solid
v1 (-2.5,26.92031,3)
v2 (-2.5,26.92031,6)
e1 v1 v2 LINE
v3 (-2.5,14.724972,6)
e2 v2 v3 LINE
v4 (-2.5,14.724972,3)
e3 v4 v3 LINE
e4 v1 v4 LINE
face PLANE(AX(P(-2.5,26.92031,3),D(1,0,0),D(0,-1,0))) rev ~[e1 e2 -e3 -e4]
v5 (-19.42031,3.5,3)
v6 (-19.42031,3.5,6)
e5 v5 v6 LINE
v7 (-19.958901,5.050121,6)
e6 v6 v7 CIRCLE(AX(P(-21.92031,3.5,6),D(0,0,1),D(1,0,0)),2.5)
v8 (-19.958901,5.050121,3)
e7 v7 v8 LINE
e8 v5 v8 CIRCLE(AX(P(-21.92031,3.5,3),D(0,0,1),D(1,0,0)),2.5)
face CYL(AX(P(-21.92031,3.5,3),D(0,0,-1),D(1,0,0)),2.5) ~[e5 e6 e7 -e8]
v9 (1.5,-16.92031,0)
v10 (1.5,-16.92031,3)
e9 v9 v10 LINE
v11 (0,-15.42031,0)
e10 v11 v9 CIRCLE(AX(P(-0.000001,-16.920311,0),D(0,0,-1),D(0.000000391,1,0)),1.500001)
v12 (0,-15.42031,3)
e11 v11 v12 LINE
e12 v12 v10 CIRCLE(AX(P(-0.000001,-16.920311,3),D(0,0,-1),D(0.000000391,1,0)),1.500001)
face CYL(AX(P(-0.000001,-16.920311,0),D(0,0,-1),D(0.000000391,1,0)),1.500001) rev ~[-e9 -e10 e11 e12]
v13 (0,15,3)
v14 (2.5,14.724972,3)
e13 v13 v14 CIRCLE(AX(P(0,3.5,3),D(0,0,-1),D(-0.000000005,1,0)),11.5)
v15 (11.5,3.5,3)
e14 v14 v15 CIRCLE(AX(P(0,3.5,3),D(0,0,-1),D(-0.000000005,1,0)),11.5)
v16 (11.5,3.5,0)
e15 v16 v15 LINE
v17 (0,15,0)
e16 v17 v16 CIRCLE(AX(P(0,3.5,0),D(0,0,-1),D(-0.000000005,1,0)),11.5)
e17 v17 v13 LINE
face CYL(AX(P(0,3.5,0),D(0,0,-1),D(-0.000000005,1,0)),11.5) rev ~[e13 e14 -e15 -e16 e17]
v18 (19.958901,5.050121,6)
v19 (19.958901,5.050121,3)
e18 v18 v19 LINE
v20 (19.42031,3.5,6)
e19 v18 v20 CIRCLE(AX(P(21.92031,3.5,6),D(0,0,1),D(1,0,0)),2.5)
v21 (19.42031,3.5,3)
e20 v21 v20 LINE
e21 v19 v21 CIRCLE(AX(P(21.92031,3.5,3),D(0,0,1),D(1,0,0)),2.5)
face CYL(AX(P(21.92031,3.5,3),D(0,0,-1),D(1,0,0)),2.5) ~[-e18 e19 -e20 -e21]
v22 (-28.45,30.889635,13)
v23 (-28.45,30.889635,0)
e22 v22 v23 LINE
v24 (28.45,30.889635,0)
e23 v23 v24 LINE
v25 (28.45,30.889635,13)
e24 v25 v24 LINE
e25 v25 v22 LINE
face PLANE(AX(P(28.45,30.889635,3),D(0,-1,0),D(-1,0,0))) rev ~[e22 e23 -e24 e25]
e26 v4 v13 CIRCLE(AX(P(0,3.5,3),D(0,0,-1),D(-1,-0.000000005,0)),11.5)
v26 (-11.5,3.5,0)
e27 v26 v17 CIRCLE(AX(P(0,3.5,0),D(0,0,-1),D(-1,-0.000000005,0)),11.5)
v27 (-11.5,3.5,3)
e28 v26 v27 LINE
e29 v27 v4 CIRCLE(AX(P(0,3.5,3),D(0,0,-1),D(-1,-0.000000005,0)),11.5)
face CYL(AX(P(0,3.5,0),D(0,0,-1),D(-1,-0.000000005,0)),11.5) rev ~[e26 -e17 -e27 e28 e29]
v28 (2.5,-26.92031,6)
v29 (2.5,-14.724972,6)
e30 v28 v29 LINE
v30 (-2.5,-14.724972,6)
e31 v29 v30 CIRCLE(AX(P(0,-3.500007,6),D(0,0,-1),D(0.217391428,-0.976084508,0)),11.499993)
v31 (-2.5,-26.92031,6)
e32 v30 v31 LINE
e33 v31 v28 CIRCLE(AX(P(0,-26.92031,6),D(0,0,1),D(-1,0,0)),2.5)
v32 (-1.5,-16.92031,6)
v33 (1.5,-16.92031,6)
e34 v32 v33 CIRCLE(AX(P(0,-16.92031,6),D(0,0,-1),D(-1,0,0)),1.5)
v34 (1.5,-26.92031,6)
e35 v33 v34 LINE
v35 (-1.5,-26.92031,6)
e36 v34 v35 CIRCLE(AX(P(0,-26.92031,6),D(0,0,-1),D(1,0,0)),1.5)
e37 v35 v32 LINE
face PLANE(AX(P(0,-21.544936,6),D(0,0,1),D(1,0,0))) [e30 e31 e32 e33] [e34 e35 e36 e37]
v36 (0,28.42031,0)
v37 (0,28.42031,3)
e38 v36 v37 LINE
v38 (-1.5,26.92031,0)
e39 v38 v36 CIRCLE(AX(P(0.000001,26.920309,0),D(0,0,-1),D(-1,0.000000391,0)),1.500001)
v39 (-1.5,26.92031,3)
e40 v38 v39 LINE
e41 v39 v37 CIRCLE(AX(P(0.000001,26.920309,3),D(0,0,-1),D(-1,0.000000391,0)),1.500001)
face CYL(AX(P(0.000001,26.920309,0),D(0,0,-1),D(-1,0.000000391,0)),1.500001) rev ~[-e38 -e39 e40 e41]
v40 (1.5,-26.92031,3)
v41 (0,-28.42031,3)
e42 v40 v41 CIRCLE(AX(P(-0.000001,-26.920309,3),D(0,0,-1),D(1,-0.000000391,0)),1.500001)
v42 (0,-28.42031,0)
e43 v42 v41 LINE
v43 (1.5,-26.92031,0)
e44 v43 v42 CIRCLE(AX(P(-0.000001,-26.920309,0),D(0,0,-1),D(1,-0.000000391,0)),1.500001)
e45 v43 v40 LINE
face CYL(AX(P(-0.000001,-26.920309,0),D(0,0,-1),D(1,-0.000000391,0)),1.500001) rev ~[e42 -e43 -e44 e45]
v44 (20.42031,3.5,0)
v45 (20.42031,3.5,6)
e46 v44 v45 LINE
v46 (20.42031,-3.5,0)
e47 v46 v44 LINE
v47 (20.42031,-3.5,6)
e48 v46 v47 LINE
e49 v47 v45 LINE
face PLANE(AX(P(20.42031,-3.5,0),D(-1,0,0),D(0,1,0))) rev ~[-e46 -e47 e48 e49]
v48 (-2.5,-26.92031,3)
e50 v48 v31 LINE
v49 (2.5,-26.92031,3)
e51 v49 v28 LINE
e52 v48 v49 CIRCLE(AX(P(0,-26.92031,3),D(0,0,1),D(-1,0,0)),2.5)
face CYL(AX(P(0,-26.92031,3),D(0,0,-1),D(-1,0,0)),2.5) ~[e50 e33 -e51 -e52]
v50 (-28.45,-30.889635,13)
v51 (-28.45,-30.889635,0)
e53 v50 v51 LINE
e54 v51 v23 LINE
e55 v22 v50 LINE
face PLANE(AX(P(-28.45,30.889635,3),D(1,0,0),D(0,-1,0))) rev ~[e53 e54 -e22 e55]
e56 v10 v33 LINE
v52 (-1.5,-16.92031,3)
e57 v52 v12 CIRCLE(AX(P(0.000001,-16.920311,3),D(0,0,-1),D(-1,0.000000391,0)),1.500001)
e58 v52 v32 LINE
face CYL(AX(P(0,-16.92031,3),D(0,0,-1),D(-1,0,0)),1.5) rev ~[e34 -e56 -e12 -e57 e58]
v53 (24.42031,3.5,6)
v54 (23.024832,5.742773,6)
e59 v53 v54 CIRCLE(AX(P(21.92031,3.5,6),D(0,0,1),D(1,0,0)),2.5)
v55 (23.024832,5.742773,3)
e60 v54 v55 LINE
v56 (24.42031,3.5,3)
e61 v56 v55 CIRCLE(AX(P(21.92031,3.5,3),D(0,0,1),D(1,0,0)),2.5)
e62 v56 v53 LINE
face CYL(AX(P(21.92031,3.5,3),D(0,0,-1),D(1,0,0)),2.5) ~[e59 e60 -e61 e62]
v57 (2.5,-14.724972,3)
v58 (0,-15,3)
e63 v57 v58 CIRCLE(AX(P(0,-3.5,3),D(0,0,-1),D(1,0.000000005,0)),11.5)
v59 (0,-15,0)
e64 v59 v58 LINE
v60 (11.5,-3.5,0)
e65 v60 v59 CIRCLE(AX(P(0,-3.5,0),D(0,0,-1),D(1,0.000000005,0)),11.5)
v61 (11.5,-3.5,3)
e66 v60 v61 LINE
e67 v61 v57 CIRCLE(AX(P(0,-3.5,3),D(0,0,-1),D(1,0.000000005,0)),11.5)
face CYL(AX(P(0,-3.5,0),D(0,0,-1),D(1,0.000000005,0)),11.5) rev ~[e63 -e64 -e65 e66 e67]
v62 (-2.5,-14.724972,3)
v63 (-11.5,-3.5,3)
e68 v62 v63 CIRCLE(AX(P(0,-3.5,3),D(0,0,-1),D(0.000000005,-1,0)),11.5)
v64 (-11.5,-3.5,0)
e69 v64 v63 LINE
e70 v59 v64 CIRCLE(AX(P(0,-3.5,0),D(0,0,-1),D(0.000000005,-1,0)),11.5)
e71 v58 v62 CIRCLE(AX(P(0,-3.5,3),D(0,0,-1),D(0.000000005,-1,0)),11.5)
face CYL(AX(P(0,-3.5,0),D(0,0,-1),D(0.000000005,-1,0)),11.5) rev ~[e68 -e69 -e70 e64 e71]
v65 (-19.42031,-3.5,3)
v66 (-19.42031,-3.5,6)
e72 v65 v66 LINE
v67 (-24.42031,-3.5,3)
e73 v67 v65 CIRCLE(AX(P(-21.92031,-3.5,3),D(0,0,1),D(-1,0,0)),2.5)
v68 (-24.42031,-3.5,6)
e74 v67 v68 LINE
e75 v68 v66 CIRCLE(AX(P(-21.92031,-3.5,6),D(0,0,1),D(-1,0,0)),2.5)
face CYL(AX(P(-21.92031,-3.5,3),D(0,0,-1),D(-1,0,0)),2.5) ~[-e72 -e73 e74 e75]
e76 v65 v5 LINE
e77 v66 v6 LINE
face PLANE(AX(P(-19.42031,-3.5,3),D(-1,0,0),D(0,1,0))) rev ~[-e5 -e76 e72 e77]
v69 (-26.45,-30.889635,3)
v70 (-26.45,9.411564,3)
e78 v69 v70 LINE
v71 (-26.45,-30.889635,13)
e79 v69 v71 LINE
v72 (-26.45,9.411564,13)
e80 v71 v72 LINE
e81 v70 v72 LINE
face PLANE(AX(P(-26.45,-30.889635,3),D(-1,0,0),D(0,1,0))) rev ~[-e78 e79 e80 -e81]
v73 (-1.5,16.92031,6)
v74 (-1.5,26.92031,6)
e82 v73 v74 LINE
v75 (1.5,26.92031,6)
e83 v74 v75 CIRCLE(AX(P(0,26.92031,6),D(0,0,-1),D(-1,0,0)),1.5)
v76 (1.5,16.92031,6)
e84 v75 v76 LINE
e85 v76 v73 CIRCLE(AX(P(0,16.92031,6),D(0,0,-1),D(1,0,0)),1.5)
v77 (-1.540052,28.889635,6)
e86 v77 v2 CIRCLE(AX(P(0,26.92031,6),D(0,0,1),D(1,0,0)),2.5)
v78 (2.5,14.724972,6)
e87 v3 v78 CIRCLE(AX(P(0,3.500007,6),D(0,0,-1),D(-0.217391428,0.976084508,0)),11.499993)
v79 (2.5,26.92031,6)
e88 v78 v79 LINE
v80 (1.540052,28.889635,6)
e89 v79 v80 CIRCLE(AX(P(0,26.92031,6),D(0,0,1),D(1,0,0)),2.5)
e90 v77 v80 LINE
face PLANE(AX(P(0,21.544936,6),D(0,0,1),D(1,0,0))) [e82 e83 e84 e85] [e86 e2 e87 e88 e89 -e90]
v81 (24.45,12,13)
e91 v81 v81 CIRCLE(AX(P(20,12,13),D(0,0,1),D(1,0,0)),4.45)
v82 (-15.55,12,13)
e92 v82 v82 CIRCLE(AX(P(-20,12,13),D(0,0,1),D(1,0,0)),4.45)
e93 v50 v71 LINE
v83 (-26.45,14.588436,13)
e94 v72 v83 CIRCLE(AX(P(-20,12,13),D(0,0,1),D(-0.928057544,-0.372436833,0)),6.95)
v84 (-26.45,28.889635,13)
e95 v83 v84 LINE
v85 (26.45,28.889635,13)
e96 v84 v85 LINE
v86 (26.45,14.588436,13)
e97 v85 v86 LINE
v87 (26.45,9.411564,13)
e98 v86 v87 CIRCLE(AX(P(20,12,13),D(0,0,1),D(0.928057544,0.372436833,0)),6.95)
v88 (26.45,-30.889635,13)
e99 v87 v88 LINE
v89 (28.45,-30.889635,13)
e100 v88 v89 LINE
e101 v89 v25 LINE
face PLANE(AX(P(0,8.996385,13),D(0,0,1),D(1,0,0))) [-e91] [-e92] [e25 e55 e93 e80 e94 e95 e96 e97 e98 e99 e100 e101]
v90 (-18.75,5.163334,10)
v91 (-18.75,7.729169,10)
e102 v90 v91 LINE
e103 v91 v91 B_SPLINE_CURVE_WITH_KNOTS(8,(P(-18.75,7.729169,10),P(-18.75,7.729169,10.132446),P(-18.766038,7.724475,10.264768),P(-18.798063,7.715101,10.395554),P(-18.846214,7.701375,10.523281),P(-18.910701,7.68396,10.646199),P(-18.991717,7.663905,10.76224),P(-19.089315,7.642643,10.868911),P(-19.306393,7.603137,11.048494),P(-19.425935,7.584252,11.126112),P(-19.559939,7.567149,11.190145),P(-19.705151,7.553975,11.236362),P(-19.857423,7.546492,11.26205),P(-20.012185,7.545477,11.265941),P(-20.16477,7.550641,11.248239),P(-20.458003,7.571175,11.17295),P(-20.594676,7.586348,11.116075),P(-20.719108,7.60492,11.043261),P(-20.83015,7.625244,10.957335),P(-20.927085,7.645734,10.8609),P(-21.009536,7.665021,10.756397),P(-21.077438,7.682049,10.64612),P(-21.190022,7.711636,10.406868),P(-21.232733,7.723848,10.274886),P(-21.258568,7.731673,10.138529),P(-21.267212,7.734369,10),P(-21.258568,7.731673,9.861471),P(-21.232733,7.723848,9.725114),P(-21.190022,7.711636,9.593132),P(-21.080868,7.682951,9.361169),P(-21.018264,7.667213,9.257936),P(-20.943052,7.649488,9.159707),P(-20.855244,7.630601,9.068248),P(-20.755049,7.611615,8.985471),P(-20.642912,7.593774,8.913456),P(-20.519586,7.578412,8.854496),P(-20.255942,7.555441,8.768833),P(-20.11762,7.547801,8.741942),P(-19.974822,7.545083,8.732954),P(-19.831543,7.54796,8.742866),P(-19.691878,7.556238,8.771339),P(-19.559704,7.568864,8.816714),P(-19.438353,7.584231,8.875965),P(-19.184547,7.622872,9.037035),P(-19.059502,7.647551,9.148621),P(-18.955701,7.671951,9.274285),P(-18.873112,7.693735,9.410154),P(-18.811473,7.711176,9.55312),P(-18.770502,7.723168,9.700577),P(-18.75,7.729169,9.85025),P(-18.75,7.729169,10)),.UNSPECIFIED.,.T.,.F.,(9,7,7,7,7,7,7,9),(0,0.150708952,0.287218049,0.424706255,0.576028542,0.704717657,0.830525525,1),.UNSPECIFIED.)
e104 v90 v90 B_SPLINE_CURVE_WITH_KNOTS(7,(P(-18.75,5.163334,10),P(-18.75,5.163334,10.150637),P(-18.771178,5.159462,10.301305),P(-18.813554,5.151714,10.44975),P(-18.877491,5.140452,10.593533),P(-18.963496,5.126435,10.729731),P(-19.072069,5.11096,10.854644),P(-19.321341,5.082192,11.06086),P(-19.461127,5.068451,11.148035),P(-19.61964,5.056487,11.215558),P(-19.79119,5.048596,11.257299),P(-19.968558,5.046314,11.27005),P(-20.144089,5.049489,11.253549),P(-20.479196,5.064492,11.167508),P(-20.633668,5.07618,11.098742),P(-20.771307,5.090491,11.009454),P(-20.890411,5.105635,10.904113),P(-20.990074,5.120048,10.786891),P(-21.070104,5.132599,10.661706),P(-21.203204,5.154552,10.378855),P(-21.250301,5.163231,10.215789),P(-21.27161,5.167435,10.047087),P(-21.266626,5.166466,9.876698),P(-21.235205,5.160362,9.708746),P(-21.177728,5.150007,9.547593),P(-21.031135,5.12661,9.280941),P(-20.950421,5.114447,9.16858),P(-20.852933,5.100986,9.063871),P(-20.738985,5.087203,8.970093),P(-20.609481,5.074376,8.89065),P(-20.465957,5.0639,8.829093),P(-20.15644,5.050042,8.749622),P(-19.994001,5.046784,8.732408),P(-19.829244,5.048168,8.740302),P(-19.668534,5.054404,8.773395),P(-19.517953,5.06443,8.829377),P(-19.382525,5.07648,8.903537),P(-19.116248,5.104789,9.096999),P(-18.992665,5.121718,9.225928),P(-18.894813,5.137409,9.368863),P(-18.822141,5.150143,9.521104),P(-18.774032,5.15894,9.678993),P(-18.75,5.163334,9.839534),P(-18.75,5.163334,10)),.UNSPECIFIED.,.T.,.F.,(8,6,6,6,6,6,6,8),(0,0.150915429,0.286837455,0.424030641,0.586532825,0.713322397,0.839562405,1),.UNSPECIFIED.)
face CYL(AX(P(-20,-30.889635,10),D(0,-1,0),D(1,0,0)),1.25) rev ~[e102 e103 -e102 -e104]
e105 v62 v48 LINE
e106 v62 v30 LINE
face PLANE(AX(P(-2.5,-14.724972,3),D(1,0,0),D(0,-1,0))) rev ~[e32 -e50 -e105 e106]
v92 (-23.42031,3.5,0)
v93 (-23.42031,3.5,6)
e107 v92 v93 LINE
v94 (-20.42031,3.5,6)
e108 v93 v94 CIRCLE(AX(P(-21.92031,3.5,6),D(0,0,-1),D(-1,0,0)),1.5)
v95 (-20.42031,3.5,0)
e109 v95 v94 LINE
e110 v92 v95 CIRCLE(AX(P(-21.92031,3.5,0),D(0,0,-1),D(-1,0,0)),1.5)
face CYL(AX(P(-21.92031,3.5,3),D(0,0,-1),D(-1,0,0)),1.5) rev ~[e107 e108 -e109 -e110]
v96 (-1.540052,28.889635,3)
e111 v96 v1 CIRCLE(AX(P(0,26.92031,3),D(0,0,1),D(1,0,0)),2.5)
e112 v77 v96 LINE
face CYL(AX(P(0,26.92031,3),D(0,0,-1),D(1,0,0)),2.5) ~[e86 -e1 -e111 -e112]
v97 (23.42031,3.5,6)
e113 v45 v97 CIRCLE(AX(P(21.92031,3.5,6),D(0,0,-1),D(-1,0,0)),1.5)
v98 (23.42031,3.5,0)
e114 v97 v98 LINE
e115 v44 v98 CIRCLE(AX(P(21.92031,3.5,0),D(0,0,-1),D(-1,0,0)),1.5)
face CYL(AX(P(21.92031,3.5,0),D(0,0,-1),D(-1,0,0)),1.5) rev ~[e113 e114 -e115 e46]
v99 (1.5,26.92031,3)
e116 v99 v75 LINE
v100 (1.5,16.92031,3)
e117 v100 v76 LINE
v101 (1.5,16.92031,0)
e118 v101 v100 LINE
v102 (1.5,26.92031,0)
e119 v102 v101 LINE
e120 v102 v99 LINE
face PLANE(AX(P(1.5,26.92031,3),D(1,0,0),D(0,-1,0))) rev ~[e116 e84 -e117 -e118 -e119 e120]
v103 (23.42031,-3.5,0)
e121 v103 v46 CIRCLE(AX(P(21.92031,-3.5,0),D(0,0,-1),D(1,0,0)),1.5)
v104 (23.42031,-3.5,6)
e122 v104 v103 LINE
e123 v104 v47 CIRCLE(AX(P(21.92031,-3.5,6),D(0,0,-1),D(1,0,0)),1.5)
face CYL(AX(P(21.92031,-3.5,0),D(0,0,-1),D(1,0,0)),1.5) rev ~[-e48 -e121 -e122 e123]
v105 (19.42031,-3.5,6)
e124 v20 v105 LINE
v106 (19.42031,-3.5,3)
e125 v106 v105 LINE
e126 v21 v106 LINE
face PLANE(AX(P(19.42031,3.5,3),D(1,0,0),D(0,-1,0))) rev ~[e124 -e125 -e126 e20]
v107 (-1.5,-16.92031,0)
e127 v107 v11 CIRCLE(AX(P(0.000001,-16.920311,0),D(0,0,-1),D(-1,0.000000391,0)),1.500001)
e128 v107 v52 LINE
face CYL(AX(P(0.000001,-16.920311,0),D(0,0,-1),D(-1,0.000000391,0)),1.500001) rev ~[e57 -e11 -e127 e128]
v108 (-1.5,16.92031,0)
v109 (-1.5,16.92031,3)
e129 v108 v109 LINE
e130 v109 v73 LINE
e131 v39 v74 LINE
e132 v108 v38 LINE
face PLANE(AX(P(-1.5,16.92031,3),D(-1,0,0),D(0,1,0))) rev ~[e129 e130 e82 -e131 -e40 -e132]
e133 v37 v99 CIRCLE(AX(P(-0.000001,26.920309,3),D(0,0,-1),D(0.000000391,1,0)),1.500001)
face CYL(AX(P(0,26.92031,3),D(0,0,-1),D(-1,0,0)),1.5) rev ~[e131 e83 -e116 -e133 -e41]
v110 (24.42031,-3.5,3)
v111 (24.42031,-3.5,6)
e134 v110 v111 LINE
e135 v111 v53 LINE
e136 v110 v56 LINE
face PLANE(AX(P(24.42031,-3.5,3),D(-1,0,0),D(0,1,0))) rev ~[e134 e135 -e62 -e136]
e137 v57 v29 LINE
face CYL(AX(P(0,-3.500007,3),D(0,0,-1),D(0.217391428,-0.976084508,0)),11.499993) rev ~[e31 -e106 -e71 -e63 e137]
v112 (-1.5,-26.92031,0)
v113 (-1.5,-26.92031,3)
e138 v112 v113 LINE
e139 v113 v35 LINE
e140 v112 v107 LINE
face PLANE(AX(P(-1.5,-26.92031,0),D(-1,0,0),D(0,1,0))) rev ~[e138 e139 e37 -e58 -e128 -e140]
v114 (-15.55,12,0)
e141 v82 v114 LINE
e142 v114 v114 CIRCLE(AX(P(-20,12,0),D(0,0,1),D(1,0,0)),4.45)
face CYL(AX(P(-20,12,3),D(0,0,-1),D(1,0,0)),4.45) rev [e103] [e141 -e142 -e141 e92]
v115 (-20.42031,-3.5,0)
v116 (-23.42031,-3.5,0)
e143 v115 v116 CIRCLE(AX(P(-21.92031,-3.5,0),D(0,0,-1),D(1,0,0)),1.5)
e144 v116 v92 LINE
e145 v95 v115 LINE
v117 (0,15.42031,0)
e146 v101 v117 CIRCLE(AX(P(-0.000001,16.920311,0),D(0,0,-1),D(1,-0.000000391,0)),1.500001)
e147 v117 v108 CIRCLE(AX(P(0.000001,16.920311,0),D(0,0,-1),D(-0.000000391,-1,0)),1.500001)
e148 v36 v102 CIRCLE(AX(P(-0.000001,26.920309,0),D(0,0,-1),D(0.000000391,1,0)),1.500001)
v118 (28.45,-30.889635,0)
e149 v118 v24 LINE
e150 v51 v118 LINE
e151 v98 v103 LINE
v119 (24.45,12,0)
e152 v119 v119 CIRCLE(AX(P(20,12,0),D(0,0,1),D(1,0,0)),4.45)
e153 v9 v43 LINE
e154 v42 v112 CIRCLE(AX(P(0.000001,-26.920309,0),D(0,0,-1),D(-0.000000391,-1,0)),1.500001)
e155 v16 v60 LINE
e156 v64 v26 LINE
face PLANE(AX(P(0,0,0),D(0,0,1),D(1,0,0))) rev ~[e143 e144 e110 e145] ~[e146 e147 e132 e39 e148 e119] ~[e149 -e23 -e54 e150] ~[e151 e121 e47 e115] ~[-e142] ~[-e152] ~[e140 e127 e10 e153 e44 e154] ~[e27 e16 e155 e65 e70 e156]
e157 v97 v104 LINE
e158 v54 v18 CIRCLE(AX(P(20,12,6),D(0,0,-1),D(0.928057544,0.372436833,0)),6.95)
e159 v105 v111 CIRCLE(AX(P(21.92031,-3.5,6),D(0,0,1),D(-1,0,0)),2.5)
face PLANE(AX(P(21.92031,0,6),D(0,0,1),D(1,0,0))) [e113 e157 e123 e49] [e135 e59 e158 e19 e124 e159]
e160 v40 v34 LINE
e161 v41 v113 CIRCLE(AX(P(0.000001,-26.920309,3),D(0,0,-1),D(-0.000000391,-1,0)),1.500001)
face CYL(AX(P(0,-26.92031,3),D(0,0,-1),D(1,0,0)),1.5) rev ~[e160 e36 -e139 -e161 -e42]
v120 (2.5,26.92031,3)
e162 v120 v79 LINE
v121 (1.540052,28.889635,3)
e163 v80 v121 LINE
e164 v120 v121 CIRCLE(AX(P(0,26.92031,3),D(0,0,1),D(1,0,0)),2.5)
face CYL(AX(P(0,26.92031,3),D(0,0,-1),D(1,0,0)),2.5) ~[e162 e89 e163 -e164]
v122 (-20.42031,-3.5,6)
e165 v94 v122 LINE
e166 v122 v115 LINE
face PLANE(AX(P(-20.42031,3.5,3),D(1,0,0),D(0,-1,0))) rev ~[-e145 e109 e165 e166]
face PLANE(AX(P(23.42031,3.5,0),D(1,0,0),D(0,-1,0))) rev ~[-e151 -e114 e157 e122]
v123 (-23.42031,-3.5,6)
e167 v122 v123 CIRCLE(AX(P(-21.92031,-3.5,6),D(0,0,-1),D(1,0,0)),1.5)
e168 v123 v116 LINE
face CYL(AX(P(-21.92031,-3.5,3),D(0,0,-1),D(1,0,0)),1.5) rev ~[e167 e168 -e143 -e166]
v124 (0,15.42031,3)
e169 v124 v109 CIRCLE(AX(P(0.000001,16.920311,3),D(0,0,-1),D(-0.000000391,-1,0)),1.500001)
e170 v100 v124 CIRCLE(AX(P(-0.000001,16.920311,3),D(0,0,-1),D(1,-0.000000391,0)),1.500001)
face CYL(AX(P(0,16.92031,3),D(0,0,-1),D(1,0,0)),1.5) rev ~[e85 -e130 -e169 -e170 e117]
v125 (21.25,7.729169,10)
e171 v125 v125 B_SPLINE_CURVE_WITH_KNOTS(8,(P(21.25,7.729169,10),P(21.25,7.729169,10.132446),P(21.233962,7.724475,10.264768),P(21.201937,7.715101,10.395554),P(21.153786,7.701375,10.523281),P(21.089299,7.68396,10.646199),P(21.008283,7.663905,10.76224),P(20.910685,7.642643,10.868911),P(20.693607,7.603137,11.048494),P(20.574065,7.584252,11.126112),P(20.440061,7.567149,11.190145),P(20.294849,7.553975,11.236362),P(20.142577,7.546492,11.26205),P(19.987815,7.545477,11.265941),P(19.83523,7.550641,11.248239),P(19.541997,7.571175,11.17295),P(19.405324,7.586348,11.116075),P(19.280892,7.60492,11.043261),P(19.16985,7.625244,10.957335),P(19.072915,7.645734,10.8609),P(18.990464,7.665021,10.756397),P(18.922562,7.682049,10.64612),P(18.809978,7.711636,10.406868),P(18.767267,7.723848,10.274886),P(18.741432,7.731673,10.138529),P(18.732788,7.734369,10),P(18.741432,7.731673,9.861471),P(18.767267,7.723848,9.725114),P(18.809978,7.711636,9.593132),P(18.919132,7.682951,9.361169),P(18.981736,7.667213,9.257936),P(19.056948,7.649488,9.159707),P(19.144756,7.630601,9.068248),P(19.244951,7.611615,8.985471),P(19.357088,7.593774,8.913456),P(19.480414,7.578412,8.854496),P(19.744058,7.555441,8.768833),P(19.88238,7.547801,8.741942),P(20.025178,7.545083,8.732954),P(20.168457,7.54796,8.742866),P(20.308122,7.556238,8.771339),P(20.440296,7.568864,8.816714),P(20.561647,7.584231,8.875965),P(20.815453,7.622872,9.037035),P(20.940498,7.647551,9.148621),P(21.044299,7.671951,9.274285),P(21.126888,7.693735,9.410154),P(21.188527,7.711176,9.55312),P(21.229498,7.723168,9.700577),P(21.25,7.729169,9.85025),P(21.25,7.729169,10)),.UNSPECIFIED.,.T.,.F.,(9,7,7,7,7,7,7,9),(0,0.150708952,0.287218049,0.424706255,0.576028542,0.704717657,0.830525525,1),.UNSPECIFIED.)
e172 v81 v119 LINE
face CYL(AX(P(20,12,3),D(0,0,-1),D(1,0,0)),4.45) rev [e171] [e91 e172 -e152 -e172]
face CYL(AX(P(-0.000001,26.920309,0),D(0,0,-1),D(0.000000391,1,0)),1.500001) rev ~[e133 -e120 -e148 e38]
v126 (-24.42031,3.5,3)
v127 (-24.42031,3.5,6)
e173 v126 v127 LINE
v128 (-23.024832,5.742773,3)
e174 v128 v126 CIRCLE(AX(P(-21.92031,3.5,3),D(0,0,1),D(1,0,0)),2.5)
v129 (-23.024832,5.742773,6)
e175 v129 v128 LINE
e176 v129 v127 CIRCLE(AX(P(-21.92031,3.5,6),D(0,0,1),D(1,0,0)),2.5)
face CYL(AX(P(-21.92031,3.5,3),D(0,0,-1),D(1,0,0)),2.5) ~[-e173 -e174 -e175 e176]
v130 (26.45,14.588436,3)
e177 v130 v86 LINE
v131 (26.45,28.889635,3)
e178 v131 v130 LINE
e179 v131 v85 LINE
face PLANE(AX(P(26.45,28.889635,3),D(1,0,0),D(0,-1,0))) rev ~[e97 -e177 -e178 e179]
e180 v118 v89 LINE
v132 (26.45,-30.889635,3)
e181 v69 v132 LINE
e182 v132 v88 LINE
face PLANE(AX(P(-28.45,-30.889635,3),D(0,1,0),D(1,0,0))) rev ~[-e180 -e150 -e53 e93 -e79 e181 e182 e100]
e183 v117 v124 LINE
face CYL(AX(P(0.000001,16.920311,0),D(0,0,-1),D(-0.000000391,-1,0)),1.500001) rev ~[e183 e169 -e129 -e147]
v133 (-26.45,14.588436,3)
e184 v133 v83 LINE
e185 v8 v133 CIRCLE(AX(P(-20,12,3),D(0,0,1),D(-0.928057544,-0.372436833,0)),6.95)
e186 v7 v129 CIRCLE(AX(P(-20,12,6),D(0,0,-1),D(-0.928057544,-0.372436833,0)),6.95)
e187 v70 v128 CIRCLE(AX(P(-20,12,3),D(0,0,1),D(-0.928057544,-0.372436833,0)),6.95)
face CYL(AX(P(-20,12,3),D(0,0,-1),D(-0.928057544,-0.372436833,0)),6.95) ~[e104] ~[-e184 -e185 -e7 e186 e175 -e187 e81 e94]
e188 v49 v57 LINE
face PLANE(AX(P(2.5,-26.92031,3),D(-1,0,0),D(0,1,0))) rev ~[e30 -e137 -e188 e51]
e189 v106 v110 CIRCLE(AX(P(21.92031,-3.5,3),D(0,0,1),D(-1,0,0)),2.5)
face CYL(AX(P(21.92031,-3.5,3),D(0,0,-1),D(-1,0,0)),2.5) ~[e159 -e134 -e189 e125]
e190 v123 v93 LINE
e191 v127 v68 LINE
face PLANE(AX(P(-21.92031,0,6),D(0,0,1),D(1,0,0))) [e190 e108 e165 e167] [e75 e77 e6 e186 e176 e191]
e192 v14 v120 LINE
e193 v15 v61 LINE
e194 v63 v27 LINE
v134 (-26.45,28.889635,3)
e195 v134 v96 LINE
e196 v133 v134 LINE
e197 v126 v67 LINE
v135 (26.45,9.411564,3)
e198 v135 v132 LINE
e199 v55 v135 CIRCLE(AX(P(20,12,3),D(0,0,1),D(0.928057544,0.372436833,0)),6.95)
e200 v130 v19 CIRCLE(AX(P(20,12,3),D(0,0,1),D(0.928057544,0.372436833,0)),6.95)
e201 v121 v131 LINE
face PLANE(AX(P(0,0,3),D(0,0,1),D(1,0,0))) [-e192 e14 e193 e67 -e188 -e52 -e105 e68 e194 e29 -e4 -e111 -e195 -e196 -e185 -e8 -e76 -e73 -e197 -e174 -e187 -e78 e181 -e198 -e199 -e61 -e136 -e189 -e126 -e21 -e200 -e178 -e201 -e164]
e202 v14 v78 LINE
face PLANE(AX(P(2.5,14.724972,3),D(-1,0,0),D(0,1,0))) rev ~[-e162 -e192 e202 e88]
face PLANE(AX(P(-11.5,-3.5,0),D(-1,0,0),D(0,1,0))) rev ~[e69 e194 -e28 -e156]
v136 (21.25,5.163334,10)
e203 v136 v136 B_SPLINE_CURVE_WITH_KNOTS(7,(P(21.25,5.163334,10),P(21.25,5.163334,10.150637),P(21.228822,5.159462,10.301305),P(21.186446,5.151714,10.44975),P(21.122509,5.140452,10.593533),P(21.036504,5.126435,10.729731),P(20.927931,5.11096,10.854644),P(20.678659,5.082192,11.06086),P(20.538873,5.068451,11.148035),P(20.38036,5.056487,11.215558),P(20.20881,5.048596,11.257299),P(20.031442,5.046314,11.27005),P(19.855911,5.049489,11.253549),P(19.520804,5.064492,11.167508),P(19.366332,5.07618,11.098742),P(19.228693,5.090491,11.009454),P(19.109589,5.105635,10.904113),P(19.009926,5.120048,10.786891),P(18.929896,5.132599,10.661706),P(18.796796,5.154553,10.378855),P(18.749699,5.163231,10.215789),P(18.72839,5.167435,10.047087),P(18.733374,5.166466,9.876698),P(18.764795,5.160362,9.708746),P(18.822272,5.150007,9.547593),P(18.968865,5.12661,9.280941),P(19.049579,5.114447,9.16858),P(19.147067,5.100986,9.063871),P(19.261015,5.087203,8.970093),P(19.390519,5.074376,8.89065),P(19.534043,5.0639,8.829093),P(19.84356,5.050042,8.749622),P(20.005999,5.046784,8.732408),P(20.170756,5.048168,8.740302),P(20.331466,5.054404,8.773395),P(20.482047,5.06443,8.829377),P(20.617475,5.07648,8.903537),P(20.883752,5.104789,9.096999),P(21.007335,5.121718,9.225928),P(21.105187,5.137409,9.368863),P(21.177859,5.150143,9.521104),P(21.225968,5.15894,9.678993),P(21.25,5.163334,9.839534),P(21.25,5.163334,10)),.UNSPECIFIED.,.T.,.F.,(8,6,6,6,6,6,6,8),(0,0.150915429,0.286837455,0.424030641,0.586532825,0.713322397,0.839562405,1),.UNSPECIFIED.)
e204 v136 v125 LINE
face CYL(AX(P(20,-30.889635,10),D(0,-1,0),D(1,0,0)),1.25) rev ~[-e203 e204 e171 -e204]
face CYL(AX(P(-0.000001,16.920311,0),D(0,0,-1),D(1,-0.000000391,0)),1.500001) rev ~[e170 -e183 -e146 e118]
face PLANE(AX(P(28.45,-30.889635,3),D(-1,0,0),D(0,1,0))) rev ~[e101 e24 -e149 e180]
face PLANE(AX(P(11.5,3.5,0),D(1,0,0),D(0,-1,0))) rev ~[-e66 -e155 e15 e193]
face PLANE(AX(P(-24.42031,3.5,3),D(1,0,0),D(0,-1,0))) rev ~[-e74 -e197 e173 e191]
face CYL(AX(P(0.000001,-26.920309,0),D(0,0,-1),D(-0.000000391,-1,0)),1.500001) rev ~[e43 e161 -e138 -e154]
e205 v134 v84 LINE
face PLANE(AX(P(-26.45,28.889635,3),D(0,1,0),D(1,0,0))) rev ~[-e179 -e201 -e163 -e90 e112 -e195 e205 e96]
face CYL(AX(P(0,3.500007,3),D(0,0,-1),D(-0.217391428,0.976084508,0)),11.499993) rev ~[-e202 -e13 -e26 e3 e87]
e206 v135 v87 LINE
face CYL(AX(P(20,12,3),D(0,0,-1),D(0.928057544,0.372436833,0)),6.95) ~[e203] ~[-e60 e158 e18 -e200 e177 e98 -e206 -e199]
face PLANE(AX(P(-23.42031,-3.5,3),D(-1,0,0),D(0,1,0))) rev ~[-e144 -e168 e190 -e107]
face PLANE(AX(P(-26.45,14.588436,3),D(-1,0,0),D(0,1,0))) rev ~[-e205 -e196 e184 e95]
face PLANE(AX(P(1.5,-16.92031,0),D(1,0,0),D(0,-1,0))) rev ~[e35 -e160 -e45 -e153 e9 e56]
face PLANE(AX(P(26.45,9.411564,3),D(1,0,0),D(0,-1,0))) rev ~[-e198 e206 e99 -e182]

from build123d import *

# Parameters (mm, degrees)
F0_W     = 56.9
F0_H     = 61.77927
F0_R     = 4.45
F1_DEPTH = 3
F2_R     = 4.45
F4_DEPTH = 10
F5_DEPTH = 3
F6_R     = 1.25
F7_DEPTH = 40


with BuildPart() as f1:
    # F0 (on Top) → F1 (new body)
    with BuildSketch(Plane.XY):
        Rectangle(F0_W, F0_H)
        with BuildLine():
            Line((1.5, -16.92031), (1.5, -26.92031))
            ThreePointArc((1.5, -26.92031), (1.06066, -27.98097), (0, -28.42031))
            ThreePointArc((0, -28.42031), (-1.06066, -27.98097), (-1.5, -26.92031))
            Line((-1.5, -26.92031), (-1.5, -16.92031))
            ThreePointArc((-1.5, -16.92031), (-1.06066, -15.85965), (0, -15.42031))
            ThreePointArc((0, -15.42031), (1.06066, -15.85965), (1.5, -16.92031))
        make_face(mode=Mode.SUBTRACT)
        with BuildLine():
            Line((-23.42031, -3.5), (-23.42031, 0))
            Line((-23.42031, 0), (-23.42031, 3.5))
            ThreePointArc((-23.42031, 3.5), (-21.92031, 5), (-20.42031, 3.5))
            Line((-20.42031, 3.5), (-20.42031, 0))
            Line((-20.42031, 0), (-20.42031, -3.5))
            ThreePointArc((-20.42031, -3.5), (-21.92031, -5), (-23.42031, -3.5))
        make_face(mode=Mode.SUBTRACT)
        with Locations((-20, 12)):
            Circle(F0_R, mode=Mode.SUBTRACT)
        with BuildLine():
            Line((-11.5, -3.5), (-11.5, 0))
            Line((-11.5, 0), (-11.5, 3.5))
            ThreePointArc((-11.5, 3.5), (-8.131728, 11.631728), (0, 15))
            ThreePointArc((0, 15), (8.131728, 11.631728), (11.5, 3.5))
            Line((11.5, 3.5), (11.5, 0))
            Line((11.5, 0), (11.5, -3.5))
            ThreePointArc((11.5, -3.5), (8.131728, -11.631728), (0, -15))
            ThreePointArc((0, -15), (-8.131728, -11.631728), (-11.5, -3.5))
        make_face(mode=Mode.SUBTRACT)
        with BuildLine():
            Line((20.42031, -3.5), (20.42031, 0))
            Line((20.42031, 0), (20.42031, 3.5))
            ThreePointArc((20.42031, 3.5), (21.92031, 5), (23.42031, 3.5))
            Line((23.42031, 3.5), (23.42031, 0))
            Line((23.42031, 0), (23.42031, -3.5))
            ThreePointArc((23.42031, -3.5), (21.92031, -5), (20.42031, -3.5))
        make_face(mode=Mode.SUBTRACT)
        with Locations((20, 12)):
            Circle(F0_R, mode=Mode.SUBTRACT)
        with BuildLine():
            Line((-1.5, 16.92031), (-1.5, 26.92031))
            ThreePointArc((-1.5, 26.92031), (-1.06066, 27.98097), (0, 28.42031))
            ThreePointArc((0, 28.42031), (1.06066, 27.98097), (1.5, 26.92031))
            Line((1.5, 26.92031), (1.5, 16.92031))
            ThreePointArc((1.5, 16.92031), (1.06066, 15.85965), (0, 15.42031))
            ThreePointArc((0, 15.42031), (-1.06066, 15.85965), (-1.5, 16.92031))
        make_face(mode=Mode.SUBTRACT)
    extrude(amount=F1_DEPTH)

    # F2 (on face) → F4 (join)
    with BuildSketch(Plane.XY.offset(3)):
        with BuildLine():
            Line((-26.45, -30.889635), (-26.45, 9.411564))
            ThreePointArc((-26.45, 9.411564), (-13.05, 12), (-26.45, 14.588436))
            Line((-26.45, 14.588436), (-26.45, 28.889635))
            Line((-26.45, 28.889635), (26.45, 28.889635))
            Line((26.45, 28.889635), (26.45, 14.588436))
            ThreePointArc((26.45, 14.588436), (13.05, 12), (26.45, 9.411564))
            Line((26.45, 9.411564), (26.45, -30.889635))
            Line((26.45, -30.889635), (28.45, -30.889635))
            Line((28.45, -30.889635), (28.45, 30.889635))
            Line((28.45, 30.889635), (-28.45, 30.889635))
            Line((-28.45, 30.889635), (-28.45, -30.889635))
            Line((-28.45, -30.889635), (-26.45, -30.889635))
        make_face()
        with Locations((-20, 12)):
            Circle(F2_R, mode=Mode.SUBTRACT)
        with Locations((20, 12)):
            Circle(F2_R, mode=Mode.SUBTRACT)
    extrude(amount=F4_DEPTH)

    # F3 (on face) → F5 (join)
    with BuildSketch(Plane.XY.offset(3)):
        with BuildLine():
            ThreePointArc((-19.42031, 3.5), (-21.92031, 6), (-24.42031, 3.5))
            Line((-24.42031, 3.5), (-24.42031, -3.5))
            ThreePointArc((-24.42031, -3.5), (-21.92031, -6), (-19.42031, -3.5))
            Line((-19.42031, -3.5), (-19.42031, 3.5))
        make_face()
        with BuildLine():
            ThreePointArc((-23.42031, 3.5), (-21.92031, 5), (-20.42031, 3.5))
            Line((-20.42031, 3.5), (-20.42031, -3.5))
            ThreePointArc((-20.42031, -3.5), (-21.92031, -5), (-23.42031, -3.5))
            Line((-23.42031, -3.5), (-23.42031, 3.5))
        make_face(mode=Mode.SUBTRACT)
        with BuildLine():
            Line((2.5, 16.92031), (2.5, 26.92031))
            ThreePointArc((2.5, 26.92031), (0, 29.42031), (-2.5, 26.92031))
            Line((-2.5, 26.92031), (-2.5, 16.92031))
            Line((-2.5, 16.92031), (-2.5, 14.724972))
            ThreePointArc((-2.5, 14.724972), (0, 15), (2.5, 14.724972))
            Line((2.5, 14.724972), (2.5, 16.92031))
        make_face()
        with BuildLine():
            Line((-1.5, 16.92031), (-1.5, 26.92031))
            ThreePointArc((-1.5, 26.92031), (0, 28.42031), (1.5, 26.92031))
            Line((1.5, 26.92031), (1.5, 16.92031))
            ThreePointArc((1.5, 16.92031), (0, 15.42031), (-1.5, 16.92031))
        make_face(mode=Mode.SUBTRACT)
        with BuildLine():
            Line((24.42031, -3.5), (24.42031, 3.5))
            ThreePointArc((24.42031, 3.5), (21.92031, 6), (19.42031, 3.5))
            Line((19.42031, 3.5), (19.42031, -3.5))
            ThreePointArc((19.42031, -3.5), (21.92031, -6), (24.42031, -3.5))
        make_face()
        with BuildLine():
            ThreePointArc((20.42031, 3.5), (21.92031, 5), (23.42031, 3.5))
            Line((23.42031, 3.5), (23.42031, -3.5))
            ThreePointArc((23.42031, -3.5), (21.92031, -5), (20.42031, -3.5))
            Line((20.42031, -3.5), (20.42031, 3.5))
        make_face(mode=Mode.SUBTRACT)
        with BuildLine():
            ThreePointArc((-2.5, -26.92031), (0, -29.42031), (2.5, -26.92031))
            Line((2.5, -26.92031), (2.5, -16.92031))
            Line((2.5, -16.92031), (2.5, -14.724972))
            ThreePointArc((2.5, -14.724972), (0, -15), (-2.5, -14.724972))
            Line((-2.5, -14.724972), (-2.5, -16.92031))
            Line((-2.5, -16.92031), (-2.5, -26.92031))
        make_face()
        with BuildLine():
            Line((1.5, -16.92031), (1.5, -26.92031))
            ThreePointArc((1.5, -26.92031), (0, -28.42031), (-1.5, -26.92031))
            Line((-1.5, -26.92031), (-1.5, -16.92031))
            ThreePointArc((-1.5, -16.92031), (0, -15.42031), (1.5, -16.92031))
        make_face(mode=Mode.SUBTRACT)
    extrude(amount=F5_DEPTH)

    # F6 (on face) → F7 (cut)
    with BuildSketch(Plane.XZ.offset(30.889635)):
        with Locations((-20, 10)):
            Circle(F6_R)
        with Locations((20, 10)):
            Circle(F6_R)
    extrude(amount=-F7_DEPTH, mode=Mode.SUBTRACT)


solid = f1.part
